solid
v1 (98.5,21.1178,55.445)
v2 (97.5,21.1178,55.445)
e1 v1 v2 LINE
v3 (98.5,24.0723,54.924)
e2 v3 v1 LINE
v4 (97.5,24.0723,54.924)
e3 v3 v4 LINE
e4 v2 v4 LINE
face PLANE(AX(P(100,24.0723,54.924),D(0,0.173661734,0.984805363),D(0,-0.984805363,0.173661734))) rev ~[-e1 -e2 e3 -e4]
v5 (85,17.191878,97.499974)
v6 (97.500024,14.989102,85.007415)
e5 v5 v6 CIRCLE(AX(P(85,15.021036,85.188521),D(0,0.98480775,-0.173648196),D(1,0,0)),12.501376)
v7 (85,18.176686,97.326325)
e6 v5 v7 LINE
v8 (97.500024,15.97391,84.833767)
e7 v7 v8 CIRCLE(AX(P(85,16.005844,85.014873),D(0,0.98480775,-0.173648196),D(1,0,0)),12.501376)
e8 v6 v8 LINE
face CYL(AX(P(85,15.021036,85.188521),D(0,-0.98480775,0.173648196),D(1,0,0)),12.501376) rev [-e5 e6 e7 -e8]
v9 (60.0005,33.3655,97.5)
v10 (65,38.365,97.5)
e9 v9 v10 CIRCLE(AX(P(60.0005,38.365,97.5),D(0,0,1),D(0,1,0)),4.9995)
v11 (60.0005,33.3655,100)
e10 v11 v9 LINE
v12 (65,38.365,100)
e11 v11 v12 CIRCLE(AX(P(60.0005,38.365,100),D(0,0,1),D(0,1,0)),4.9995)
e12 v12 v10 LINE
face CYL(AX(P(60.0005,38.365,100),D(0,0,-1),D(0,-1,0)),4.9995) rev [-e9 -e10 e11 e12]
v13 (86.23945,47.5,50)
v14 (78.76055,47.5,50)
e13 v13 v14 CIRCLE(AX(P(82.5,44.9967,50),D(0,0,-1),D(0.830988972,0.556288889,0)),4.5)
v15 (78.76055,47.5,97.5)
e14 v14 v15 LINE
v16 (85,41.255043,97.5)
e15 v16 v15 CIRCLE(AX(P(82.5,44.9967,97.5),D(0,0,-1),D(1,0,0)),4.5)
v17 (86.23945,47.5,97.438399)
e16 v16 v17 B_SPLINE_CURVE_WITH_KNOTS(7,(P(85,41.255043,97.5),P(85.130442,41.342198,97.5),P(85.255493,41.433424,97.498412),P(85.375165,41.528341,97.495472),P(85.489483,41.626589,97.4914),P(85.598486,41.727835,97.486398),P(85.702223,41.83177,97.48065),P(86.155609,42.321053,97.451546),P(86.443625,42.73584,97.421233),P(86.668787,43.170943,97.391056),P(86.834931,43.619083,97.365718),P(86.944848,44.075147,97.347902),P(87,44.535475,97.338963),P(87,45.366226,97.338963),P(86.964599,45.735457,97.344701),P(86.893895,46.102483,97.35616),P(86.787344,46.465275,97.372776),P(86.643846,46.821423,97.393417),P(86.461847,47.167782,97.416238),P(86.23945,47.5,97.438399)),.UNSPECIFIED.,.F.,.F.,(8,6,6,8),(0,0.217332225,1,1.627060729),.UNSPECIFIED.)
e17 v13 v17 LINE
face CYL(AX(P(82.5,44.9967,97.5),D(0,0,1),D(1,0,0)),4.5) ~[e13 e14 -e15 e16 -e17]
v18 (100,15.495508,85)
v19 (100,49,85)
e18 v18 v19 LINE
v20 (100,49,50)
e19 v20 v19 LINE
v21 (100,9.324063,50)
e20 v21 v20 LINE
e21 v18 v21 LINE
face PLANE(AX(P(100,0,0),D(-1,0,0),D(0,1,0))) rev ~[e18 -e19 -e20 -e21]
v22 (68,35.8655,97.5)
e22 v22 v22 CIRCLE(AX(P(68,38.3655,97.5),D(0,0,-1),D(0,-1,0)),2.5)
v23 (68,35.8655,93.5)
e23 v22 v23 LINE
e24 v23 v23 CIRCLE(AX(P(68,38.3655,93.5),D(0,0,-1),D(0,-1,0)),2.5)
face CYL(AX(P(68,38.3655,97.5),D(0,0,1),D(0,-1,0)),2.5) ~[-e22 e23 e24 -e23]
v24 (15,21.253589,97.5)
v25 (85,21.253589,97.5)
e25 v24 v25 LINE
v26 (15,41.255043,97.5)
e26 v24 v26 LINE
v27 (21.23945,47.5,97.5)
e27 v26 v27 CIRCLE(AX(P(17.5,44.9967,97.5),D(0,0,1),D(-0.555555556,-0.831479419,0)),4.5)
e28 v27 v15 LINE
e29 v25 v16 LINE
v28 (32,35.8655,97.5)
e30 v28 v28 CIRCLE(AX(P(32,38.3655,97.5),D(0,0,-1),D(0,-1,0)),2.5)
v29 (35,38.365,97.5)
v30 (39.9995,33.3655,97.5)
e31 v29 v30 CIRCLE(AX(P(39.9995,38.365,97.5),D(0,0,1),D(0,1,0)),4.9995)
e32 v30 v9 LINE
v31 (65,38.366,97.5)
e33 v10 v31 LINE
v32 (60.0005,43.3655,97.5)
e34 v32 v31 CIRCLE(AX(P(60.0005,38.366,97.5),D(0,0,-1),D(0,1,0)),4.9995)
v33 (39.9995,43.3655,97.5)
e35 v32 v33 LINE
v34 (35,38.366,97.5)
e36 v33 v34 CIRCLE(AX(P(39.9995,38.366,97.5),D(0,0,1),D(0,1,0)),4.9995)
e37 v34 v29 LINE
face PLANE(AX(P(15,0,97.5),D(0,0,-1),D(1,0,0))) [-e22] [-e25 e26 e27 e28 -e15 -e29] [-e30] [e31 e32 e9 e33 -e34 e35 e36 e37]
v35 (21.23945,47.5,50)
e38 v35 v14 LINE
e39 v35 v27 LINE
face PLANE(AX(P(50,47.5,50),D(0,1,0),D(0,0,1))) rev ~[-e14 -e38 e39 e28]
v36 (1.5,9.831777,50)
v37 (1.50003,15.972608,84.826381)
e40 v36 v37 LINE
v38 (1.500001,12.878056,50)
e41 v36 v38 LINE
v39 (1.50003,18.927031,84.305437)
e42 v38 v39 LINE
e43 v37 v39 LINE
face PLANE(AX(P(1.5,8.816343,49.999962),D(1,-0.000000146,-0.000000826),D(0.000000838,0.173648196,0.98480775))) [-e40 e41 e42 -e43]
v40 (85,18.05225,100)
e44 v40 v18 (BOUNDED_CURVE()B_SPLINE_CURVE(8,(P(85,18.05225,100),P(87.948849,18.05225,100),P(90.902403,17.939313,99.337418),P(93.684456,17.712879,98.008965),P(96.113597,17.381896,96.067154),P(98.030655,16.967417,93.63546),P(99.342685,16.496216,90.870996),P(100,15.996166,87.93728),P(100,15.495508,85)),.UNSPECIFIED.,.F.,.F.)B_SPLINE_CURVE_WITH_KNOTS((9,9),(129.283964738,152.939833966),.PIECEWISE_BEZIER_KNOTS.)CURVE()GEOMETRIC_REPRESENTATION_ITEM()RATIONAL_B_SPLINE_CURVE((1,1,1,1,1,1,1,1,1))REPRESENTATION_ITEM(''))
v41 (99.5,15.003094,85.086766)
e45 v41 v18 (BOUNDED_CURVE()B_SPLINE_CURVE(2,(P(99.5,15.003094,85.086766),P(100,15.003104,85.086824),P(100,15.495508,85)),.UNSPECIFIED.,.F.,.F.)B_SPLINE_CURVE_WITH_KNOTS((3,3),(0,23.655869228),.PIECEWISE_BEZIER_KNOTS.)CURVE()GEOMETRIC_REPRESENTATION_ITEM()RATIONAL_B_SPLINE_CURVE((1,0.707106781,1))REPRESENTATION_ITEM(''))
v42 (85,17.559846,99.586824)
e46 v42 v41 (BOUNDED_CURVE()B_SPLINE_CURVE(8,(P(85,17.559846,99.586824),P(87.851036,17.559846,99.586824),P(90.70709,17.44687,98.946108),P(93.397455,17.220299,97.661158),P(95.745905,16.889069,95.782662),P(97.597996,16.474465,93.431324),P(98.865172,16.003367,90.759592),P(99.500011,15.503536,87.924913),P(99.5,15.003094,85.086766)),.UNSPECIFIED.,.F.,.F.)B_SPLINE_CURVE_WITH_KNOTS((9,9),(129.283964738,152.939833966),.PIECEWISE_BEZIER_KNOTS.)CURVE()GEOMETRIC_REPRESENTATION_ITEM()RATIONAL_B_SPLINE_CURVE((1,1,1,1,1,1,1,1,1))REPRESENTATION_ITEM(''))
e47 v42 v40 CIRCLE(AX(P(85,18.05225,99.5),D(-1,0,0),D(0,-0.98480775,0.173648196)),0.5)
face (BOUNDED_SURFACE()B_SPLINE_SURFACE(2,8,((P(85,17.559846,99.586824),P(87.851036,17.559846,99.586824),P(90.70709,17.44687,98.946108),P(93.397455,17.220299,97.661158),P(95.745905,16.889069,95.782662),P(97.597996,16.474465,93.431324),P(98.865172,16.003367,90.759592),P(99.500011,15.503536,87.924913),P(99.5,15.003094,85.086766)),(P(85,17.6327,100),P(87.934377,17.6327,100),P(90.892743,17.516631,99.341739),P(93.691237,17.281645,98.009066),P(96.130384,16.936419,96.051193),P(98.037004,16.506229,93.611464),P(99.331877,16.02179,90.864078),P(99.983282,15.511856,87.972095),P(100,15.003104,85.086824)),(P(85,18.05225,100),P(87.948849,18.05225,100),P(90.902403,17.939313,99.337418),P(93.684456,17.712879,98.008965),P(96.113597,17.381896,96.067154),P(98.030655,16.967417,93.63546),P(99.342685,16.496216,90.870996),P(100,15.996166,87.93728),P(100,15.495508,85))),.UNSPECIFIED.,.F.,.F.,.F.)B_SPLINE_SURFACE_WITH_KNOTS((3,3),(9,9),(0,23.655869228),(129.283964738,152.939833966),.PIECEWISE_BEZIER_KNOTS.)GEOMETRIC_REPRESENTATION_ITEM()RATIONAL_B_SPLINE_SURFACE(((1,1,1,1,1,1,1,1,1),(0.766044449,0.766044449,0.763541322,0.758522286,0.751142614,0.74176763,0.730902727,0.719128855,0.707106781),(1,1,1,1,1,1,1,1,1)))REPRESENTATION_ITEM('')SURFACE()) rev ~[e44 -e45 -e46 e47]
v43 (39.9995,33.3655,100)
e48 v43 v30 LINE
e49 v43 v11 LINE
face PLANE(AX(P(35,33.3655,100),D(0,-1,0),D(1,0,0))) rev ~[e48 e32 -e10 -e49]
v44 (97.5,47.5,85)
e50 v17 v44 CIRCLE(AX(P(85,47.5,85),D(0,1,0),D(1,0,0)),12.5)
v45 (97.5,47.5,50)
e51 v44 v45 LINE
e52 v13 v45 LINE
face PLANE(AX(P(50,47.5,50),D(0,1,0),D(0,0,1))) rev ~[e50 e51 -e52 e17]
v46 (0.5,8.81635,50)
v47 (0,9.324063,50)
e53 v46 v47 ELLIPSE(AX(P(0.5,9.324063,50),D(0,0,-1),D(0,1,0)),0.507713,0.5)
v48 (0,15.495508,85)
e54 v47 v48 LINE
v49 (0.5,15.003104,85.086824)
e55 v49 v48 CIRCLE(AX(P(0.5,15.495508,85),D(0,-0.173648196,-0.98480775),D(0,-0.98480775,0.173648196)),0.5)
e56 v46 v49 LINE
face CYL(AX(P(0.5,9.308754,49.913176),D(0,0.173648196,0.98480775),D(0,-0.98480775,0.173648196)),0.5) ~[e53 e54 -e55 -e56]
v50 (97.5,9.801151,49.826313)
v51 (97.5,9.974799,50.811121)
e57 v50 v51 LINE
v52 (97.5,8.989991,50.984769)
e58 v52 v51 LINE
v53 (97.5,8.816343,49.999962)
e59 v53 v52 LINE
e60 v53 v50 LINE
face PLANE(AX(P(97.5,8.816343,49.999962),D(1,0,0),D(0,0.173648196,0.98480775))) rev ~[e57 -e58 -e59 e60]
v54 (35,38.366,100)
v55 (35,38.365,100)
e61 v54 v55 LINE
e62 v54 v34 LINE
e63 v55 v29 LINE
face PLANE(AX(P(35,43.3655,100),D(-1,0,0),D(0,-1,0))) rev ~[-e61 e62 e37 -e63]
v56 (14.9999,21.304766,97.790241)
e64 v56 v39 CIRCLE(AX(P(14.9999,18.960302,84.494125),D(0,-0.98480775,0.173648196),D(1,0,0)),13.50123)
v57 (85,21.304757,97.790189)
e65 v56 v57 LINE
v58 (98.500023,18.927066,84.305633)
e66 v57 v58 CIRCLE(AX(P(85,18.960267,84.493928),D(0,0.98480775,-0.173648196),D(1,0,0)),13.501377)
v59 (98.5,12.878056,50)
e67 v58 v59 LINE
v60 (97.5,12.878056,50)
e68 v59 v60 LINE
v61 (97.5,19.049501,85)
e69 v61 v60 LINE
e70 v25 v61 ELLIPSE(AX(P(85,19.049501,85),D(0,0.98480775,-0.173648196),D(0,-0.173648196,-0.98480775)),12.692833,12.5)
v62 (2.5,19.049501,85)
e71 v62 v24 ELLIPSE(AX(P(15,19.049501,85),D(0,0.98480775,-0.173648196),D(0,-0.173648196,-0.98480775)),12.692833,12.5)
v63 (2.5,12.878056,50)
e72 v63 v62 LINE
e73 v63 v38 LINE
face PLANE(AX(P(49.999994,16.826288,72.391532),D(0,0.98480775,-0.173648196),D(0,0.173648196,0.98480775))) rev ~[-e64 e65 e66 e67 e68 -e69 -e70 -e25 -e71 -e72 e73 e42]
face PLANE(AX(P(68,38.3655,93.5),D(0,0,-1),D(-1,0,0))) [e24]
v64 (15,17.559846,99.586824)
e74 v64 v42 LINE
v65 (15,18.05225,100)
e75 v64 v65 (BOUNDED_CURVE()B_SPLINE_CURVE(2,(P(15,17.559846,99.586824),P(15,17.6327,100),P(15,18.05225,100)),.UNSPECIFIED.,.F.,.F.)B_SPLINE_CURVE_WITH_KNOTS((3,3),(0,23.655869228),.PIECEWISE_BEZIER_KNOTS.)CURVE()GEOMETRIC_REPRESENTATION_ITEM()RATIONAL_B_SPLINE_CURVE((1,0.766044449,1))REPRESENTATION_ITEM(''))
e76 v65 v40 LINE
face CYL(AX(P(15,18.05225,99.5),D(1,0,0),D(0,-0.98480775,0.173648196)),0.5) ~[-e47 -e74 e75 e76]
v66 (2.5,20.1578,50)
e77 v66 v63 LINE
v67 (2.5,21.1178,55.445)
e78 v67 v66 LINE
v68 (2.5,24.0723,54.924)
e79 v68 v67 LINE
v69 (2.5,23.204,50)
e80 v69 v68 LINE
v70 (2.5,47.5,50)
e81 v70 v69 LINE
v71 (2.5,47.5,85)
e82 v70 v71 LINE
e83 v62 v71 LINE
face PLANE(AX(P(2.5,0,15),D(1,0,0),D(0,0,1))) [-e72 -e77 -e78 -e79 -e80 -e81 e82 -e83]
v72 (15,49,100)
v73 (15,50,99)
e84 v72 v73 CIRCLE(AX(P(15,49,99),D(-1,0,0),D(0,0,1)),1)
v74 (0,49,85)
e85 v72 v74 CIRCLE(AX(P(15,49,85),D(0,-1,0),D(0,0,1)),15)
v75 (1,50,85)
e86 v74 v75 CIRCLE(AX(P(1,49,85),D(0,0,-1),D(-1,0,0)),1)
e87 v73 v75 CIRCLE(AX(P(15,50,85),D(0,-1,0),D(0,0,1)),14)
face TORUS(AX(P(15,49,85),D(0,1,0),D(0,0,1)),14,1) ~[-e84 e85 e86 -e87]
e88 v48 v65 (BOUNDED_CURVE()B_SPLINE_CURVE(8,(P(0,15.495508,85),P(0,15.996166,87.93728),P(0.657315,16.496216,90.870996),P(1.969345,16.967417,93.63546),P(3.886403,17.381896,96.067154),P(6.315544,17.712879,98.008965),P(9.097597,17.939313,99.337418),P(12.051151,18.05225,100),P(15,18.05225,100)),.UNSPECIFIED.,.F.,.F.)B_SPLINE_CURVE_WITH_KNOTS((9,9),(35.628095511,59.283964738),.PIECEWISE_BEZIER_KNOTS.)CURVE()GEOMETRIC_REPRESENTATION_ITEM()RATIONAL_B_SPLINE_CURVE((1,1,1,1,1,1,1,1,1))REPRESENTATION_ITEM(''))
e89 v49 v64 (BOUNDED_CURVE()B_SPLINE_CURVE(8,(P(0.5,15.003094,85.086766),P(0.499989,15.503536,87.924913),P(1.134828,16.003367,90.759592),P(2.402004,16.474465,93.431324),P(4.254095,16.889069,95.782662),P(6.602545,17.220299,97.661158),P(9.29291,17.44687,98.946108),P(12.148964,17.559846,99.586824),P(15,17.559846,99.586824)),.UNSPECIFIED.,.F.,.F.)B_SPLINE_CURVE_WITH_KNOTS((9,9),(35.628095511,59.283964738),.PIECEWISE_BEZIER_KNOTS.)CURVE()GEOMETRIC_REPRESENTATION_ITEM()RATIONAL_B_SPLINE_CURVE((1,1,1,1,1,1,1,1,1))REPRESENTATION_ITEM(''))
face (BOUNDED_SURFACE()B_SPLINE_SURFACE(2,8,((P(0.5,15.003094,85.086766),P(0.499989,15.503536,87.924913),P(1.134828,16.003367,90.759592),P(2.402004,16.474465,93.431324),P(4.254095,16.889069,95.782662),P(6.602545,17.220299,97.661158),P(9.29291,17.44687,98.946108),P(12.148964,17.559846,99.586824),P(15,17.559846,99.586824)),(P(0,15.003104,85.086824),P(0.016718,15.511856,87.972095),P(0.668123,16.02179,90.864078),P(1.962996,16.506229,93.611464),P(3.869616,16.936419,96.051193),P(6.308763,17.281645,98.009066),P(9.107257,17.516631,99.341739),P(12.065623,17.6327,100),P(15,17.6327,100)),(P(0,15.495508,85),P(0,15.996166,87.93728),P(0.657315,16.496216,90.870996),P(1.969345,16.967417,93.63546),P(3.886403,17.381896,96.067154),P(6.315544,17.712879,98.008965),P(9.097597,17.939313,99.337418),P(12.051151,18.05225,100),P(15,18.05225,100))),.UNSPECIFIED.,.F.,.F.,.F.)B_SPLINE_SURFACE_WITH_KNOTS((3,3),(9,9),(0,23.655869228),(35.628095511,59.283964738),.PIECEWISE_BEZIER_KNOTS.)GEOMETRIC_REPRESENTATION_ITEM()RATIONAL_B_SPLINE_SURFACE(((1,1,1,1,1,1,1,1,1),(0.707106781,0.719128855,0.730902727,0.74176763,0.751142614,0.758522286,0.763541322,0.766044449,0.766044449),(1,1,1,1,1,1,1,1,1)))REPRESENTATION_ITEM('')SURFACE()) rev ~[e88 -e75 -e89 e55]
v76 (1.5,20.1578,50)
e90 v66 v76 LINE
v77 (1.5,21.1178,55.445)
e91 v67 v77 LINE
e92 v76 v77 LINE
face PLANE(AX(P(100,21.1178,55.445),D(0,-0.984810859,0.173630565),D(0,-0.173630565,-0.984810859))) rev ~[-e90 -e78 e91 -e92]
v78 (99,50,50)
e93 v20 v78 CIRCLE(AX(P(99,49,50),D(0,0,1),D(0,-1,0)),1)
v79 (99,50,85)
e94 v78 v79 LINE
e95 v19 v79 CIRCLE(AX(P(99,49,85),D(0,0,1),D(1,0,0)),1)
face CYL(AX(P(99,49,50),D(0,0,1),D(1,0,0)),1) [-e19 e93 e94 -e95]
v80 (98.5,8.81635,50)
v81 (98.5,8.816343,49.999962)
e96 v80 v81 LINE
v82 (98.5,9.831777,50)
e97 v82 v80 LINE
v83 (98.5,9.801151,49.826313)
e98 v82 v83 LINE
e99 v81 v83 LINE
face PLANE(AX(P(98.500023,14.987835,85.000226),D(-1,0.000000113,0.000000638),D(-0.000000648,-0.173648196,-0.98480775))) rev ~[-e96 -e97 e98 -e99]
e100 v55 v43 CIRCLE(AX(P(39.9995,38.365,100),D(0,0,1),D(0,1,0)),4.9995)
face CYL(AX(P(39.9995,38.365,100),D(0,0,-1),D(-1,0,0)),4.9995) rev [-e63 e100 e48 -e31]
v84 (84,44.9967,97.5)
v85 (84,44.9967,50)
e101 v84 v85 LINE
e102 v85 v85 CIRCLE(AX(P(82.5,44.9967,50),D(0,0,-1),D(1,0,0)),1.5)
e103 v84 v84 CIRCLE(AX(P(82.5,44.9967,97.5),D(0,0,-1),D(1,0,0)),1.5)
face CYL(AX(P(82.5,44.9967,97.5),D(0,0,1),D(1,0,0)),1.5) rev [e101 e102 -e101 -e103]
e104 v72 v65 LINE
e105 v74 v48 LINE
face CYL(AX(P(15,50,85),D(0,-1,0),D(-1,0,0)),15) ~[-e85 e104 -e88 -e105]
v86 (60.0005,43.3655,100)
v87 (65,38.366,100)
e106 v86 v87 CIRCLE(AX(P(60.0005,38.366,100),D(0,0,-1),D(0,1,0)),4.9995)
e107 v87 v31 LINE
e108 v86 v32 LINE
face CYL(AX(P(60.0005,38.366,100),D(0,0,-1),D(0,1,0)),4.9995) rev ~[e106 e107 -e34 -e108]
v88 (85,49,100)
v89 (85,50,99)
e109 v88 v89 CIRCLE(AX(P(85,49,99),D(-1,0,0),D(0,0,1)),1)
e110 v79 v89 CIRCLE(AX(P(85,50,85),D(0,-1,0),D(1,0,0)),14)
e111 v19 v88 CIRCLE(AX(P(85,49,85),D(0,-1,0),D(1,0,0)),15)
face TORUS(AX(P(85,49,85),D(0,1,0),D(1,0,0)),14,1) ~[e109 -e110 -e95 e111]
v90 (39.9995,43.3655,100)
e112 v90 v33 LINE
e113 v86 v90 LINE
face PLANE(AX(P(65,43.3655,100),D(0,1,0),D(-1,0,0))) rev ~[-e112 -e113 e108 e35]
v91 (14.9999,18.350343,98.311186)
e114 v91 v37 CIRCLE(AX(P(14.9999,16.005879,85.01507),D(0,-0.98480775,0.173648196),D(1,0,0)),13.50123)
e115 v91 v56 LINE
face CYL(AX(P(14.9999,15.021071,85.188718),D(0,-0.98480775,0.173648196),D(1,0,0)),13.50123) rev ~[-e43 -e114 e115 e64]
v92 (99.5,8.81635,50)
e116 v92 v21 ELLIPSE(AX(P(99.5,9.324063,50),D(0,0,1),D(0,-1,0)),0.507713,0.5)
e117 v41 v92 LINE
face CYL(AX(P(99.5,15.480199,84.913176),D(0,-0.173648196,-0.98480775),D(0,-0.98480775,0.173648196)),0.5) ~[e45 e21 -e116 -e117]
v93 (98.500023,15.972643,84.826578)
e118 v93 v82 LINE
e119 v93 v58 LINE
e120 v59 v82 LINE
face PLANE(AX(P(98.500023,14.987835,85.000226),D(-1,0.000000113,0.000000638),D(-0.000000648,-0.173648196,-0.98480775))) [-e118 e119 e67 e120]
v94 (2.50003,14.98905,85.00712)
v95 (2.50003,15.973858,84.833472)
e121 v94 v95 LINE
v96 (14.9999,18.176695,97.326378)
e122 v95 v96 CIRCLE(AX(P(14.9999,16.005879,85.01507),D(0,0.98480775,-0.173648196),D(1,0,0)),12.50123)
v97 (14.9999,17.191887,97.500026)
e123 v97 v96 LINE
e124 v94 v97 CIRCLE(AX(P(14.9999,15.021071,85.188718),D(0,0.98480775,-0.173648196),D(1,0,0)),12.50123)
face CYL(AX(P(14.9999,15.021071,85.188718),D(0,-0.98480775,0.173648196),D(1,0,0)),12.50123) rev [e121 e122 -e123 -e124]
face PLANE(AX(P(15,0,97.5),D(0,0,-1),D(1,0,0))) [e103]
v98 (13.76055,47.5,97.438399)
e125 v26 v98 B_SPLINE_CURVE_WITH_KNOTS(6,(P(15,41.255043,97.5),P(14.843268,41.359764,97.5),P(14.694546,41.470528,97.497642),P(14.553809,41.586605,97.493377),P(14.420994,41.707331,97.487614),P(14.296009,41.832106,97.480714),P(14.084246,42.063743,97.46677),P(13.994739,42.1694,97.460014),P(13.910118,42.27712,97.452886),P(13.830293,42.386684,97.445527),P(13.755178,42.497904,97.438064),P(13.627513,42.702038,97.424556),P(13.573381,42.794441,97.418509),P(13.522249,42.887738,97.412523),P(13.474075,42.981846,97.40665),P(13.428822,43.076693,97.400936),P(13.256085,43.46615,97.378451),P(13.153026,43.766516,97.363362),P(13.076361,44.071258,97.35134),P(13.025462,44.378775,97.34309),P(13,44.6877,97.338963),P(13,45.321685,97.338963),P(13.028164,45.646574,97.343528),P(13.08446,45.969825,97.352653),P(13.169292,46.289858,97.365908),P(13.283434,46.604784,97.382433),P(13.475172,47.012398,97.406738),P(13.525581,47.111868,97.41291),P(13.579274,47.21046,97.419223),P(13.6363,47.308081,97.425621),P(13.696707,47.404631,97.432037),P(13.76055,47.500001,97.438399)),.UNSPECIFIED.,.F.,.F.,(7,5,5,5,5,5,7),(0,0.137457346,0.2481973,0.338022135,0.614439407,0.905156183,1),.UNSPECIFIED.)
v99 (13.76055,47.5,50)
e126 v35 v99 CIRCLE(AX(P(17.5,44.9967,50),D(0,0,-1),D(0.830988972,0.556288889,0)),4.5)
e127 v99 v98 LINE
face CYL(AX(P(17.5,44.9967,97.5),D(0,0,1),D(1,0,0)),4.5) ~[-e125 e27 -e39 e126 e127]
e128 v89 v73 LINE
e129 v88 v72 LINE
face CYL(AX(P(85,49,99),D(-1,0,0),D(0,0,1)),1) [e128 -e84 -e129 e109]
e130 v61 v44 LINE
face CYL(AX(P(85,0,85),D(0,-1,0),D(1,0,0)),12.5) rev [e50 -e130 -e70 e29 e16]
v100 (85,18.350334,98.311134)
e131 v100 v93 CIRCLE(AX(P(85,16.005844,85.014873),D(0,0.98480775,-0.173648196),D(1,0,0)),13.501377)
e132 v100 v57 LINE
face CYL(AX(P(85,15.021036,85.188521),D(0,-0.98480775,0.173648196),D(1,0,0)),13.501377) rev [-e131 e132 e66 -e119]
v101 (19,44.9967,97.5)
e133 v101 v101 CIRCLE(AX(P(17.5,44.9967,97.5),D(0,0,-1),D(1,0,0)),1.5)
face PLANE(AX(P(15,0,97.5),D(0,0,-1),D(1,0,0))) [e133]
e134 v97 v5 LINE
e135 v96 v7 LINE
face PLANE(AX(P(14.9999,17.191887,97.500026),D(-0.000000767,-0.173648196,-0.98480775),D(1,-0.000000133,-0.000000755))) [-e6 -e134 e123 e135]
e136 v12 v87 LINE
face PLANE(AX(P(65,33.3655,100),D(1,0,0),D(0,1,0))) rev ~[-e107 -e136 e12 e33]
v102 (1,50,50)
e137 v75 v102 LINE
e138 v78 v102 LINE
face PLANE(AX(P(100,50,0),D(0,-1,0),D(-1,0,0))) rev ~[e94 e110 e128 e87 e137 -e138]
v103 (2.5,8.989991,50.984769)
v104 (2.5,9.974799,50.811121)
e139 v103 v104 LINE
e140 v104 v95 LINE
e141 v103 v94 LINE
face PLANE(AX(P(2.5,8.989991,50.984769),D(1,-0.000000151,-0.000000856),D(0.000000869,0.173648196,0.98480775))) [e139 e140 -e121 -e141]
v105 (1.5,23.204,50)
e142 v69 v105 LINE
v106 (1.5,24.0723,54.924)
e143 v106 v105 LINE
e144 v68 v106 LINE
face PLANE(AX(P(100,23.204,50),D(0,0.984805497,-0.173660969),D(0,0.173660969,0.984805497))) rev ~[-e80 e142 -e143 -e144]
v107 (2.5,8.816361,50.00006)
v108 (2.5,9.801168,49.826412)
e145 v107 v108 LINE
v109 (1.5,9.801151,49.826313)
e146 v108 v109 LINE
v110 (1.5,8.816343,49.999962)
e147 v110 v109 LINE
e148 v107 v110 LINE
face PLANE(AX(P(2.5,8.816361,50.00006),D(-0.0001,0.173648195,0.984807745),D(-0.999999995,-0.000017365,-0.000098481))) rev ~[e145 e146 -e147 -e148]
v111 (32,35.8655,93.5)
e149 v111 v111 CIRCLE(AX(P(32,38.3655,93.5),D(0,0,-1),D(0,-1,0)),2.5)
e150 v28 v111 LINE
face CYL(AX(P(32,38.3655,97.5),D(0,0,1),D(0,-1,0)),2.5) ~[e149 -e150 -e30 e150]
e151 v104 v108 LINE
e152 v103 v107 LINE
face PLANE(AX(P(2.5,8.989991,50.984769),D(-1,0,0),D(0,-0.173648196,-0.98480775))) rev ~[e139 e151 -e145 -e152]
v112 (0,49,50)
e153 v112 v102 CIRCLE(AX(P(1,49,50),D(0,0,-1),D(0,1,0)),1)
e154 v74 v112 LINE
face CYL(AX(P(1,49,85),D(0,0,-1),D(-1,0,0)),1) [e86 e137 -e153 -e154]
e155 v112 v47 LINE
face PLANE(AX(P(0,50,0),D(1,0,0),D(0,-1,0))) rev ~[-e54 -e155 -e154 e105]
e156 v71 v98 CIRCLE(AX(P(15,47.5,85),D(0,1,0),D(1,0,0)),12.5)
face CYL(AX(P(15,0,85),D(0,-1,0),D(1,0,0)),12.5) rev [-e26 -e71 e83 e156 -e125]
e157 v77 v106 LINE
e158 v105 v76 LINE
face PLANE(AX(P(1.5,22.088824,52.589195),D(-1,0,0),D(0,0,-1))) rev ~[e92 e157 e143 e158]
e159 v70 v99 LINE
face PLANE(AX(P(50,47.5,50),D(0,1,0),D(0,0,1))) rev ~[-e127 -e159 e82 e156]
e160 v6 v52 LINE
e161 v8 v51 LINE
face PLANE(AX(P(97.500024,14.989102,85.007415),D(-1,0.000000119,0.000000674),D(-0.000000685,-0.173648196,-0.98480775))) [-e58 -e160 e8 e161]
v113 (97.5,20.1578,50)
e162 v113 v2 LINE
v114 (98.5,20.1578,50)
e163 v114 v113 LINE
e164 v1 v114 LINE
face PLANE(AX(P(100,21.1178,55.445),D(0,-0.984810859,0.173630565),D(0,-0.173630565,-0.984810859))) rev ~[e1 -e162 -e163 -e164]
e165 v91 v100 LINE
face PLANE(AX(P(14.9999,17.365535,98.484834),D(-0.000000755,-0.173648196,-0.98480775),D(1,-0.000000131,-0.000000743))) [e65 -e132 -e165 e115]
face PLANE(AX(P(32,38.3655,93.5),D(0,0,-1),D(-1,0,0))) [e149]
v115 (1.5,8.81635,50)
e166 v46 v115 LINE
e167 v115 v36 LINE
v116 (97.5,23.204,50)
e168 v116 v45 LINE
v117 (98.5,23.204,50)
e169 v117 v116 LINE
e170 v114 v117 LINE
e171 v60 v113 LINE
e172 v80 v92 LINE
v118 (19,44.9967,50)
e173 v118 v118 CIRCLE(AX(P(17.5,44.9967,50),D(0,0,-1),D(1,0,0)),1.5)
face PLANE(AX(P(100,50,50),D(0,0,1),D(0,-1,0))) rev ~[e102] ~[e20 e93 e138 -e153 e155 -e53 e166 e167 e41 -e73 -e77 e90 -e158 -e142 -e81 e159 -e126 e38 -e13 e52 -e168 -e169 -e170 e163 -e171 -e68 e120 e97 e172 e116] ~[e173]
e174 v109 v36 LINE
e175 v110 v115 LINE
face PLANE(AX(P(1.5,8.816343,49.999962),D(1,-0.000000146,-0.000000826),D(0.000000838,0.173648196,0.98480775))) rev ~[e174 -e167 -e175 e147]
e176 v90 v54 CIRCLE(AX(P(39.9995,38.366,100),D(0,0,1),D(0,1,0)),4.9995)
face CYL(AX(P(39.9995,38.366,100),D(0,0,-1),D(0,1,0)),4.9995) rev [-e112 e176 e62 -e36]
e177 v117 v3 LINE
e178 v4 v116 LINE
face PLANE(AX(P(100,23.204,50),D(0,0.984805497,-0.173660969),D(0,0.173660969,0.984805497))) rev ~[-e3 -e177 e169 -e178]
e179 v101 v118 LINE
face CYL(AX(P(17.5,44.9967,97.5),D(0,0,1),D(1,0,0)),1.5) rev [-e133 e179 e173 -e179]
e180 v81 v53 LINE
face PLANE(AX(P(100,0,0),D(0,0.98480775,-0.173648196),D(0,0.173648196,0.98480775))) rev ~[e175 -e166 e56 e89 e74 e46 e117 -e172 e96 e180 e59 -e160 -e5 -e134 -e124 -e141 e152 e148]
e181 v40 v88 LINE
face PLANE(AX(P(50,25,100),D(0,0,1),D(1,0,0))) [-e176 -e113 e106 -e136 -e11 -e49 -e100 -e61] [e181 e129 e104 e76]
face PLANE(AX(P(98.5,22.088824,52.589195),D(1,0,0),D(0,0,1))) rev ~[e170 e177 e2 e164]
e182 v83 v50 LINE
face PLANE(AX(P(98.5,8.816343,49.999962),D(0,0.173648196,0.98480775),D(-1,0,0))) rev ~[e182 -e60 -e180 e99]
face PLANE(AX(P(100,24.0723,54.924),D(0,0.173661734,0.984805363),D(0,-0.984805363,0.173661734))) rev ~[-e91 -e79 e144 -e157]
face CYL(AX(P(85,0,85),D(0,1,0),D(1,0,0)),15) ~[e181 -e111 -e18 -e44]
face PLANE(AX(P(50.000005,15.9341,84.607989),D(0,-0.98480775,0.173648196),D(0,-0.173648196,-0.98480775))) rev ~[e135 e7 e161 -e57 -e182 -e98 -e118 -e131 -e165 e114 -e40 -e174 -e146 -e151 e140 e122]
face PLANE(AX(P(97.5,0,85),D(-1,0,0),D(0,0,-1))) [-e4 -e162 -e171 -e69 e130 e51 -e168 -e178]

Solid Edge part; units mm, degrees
sketch "Sketch1" plane through (0, 0, 0) normal (0, 0, 1) x (1, 0, 0)
  line L0 (100, 0) -> (100, 50)
  line L1 (100, 50) -> (0, 50)
  line L2 (0, 50) -> (0, 0)
  line L3 (0, 0) -> (100, 0)
extrude "Protrusion1" add sketch "Sketch1" along normal blind 100
fillet "Round_1" radius 15 4 edges at (100, 25, 100) (0, 25, 100) (100, 25, 0) (0, 25, 0)
sketch "Sketch2" plane through (50, 0, 50) normal (0, -1, 0) x (1, 0, 0)
  line L0 (-35, 47.5) -> (35, 47.5)
  arc A0 (35, 47.5) -> (47.5, 35) centre (35, 35) cw
  line L1 (47.5, 35) -> (47.5, -35)
  arc A1 (47.5, -35) -> (35, -47.5) centre (35, -35) cw
  line L2 (35, -47.5) -> (-35, -47.5)
  arc A2 (-35, -47.5) -> (-47.5, -35) centre (-35, -35) cw
  line L3 (-47.5, -35) -> (-47.5, 35)
  arc A3 (-47.5, 35) -> (-35, 47.5) centre (-35, 35) cw
extrude "ExtrudedCutout_2" cut sketch "Sketch2" against normal blind 47.5
sketch "Sketch3" plane through (100, 25, 50) normal (1, 0, 0) x (0, 1, 0)
  line L0 (-25, 50) -> (-25, -50)
  line L1 (-25, -50) -> (-7.3673, 50)
  line L2 (-7.3673, 50) -> (-25, 50)
extrude "ExtrudedCutout_3" cut sketch "Sketch3" against normal blind 100
sketch "Sketch4" plane through (100, 26.3225, 50) normal (1, 0, 0) x (0, 1, 0)
  line L0 (23.6775, 0) -> (-26.3225, 0)
  line L1 (-26.3225, 0) -> (-26.3225, -50)
  line L2 (-26.3225, -50) -> (23.6775, -50)
  line L3 (23.6775, -50) -> (23.6775, 0)
extrude "ExtrudedCutout_4" cut sketch "Sketch4" against normal blind 108.373
fillet "Round_2" radius 1 5 edges at (100, 50, 67.5) (95.6066, 50, 95.6066) (50, 50, 100) (4.3934, 50, 95.6066) (0, 50, 67.5)
sketch "Sketch5" plane through (50, 13.2245, 75) normal (0, -0.9848, 0.1736) x (1, 0, 0)
  line L0 (-35.0001, 23.8471) -> (35, 23.8471)
  arc A0 (35, 23.8471) -> (48.5, 10.1545) centre (35, 10.3457) cw
  line L1 (48.5, 10.1545) -> (48.5, -25.3857)
  line L2 (-48.5, -25.3857) -> (48.5, -25.3857)
  line L3 (-48.5, -25.3857) -> (-48.5, 10.1543)
  arc A1 (-35.0001, 23.8471) -> (-48.5, 10.1543) centre (-35.0001, 10.3459) ccw
extrude "ExtrudedCutout_5" cut sketch "Sketch5" against normal blind 4
sketch "Sketch6" plane through (50, 13.2245, 75) normal (0, -0.9848, 0.1736) x (1, 0, 0)
  line L0 (47.5, 10.1618) -> (47.5, -24.3857)
  line L1 (47.5, -25.3857) -> (47.5, -24.3857)
  line L2 (48.5, -25.3857) -> (47.5, -25.3857)
  line L3 (48.5, 10.1545) -> (48.5, -25.3857)
  arc A0 (35, 23.8471) -> (48.5, 10.1545) centre (35, 10.3457) cw
  line L4 (-35.0001, 23.8471) -> (35, 23.8471)
  arc A1 (-35.0001, 23.8471) -> (-48.5, 10.1543) centre (-35.0001, 10.3459) ccw
  line L5 (-48.5, -25.3857) -> (-48.5, 10.1543)
  line L6 (-47.5, -25.3856) -> (-48.5, -25.3857)
  line L7 (-47.5, -24.3857) -> (-47.5, -25.3856)
  line L8 (-47.5, -24.3857) -> (-47.5, 10.1615)
  arc A2 (-47.5, 10.1615) -> (-35.0001, 22.8471) centre (-35.0001, 10.3459) cw
  line L9 (-35.0001, 22.8471) -> (35, 22.8471)
  arc A3 (35, 22.8471) -> (47.5, 10.1618) centre (35, 10.3457) cw
extrude "ExtrudedProtrusion_5" add sketch "Sketch6" against normal blind 1
sketch "Sketch7" plane through (50, 33.3163, 100) normal (0, 0, 1) x (0, 1, 0)
  line L0 (10.0492, -15) -> (10.0492, 15)
  line L1 (10.0492, 15) -> (0.0492, 15)
  line L2 (0.0492, 15) -> (0.0492, -15)
  line L3 (0.0492, -15) -> (10.0492, -15)
extrude "ExtrudedCutout_6" cut sketch "Sketch7" against normal blind 2.5
sketch "Sketch8" plane through (50, 33.6152, 97.5) normal (0, 0, -1) x (0, -1, 0)
  circle A0 centre (-4.7503, 18) radius 2.5
  circle A1 centre (-4.7503, -18) radius 2.5
  dimension "D1" = 5
  dimension "D2" = 3
  dimension "D3" = 3
extrude "ExtrudedProtrusion_6" add sketch "Sketch8" along normal blind 4
fillet "Round_3" radius 5 4 edges at (35, 33.3655, 98.75) (35, 43.3655, 98.75) (65, 33.3655, 98.75) (65, 43.3655, 98.75)
sketch "Sketch9" plane through (50, 32.3459, 97.5) normal (0, 0, -1) x (1, 0, 0)
  circle A0 centre (-32.5, -12.6508) radius 4.5
  circle A1 centre (-32.5, -12.6508) radius 1.5
  circle A2 centre (32.5, -12.6508) radius 4.5
  circle A3 centre (32.5, -12.6508) radius 1.5
extrude "ExtrudedProtrusion_7" add sketch "Sketch9" along normal blind 47.5
fillet "Round_4" radius 0.5 5 edges at (0, 11.9021, 67.5) (4.3934, 16.858, 95.6066) (50, 17.6327, 100) (95.6066, 16.858, 95.6066) (100, 11.9021, 67.5)
sketch "Sketch10" plane through (100, 29.162, 67.5) normal (1, 0, 0) x (0, 1, 0)
  line L0 (-5.958, -17.5) -> (-5.0897, -12.576)
  line L1 (-5.0897, -12.576) -> (-8.0442, -12.055)
  line L2 (-8.0442, -12.055) -> (-9.0042, -17.5)
  line L3 (-9.0042, -17.5) -> (-5.958, -17.5)
extrude "Cutout1" cut sketch "Sketch10" against normal blind 138.0733
sketch "Sketch11" plane through (100, 29.162, 67.5) normal (1, 0, 0) x (0, 1, 0)
  line L0 (-5.958, -17.5) -> (-5.0897, -12.576)
  line L1 (-5.0897, -12.576) -> (-8.0442, -12.055)
  line L2 (-8.0442, -12.055) -> (-9.0042, -17.5)
  line L3 (-9.0042, -17.5) -> (-5.958, -17.5)
extrude "ExtrudedProtrusion_8" add sketch "Sketch11" against normal blind 1.5
sketch "Sketch12" plane through (0, 29.162, 67.5) normal (-1, 0, 0) x (0, -1, 0)
  line L0 (5.0897, -12.576) -> (5.958, -17.5)
  line L1 (5.958, -17.5) -> (9.0042, -17.5)
  line L2 (9.0042, -17.5) -> (8.0442, -12.055)
  line L3 (8.0442, -12.055) -> (5.0897, -12.576)
extrude "ExtrudedProtrusion_9" add sketch "Sketch12" against normal blind 1.5
properties material "ABS Plastic, high impact"
